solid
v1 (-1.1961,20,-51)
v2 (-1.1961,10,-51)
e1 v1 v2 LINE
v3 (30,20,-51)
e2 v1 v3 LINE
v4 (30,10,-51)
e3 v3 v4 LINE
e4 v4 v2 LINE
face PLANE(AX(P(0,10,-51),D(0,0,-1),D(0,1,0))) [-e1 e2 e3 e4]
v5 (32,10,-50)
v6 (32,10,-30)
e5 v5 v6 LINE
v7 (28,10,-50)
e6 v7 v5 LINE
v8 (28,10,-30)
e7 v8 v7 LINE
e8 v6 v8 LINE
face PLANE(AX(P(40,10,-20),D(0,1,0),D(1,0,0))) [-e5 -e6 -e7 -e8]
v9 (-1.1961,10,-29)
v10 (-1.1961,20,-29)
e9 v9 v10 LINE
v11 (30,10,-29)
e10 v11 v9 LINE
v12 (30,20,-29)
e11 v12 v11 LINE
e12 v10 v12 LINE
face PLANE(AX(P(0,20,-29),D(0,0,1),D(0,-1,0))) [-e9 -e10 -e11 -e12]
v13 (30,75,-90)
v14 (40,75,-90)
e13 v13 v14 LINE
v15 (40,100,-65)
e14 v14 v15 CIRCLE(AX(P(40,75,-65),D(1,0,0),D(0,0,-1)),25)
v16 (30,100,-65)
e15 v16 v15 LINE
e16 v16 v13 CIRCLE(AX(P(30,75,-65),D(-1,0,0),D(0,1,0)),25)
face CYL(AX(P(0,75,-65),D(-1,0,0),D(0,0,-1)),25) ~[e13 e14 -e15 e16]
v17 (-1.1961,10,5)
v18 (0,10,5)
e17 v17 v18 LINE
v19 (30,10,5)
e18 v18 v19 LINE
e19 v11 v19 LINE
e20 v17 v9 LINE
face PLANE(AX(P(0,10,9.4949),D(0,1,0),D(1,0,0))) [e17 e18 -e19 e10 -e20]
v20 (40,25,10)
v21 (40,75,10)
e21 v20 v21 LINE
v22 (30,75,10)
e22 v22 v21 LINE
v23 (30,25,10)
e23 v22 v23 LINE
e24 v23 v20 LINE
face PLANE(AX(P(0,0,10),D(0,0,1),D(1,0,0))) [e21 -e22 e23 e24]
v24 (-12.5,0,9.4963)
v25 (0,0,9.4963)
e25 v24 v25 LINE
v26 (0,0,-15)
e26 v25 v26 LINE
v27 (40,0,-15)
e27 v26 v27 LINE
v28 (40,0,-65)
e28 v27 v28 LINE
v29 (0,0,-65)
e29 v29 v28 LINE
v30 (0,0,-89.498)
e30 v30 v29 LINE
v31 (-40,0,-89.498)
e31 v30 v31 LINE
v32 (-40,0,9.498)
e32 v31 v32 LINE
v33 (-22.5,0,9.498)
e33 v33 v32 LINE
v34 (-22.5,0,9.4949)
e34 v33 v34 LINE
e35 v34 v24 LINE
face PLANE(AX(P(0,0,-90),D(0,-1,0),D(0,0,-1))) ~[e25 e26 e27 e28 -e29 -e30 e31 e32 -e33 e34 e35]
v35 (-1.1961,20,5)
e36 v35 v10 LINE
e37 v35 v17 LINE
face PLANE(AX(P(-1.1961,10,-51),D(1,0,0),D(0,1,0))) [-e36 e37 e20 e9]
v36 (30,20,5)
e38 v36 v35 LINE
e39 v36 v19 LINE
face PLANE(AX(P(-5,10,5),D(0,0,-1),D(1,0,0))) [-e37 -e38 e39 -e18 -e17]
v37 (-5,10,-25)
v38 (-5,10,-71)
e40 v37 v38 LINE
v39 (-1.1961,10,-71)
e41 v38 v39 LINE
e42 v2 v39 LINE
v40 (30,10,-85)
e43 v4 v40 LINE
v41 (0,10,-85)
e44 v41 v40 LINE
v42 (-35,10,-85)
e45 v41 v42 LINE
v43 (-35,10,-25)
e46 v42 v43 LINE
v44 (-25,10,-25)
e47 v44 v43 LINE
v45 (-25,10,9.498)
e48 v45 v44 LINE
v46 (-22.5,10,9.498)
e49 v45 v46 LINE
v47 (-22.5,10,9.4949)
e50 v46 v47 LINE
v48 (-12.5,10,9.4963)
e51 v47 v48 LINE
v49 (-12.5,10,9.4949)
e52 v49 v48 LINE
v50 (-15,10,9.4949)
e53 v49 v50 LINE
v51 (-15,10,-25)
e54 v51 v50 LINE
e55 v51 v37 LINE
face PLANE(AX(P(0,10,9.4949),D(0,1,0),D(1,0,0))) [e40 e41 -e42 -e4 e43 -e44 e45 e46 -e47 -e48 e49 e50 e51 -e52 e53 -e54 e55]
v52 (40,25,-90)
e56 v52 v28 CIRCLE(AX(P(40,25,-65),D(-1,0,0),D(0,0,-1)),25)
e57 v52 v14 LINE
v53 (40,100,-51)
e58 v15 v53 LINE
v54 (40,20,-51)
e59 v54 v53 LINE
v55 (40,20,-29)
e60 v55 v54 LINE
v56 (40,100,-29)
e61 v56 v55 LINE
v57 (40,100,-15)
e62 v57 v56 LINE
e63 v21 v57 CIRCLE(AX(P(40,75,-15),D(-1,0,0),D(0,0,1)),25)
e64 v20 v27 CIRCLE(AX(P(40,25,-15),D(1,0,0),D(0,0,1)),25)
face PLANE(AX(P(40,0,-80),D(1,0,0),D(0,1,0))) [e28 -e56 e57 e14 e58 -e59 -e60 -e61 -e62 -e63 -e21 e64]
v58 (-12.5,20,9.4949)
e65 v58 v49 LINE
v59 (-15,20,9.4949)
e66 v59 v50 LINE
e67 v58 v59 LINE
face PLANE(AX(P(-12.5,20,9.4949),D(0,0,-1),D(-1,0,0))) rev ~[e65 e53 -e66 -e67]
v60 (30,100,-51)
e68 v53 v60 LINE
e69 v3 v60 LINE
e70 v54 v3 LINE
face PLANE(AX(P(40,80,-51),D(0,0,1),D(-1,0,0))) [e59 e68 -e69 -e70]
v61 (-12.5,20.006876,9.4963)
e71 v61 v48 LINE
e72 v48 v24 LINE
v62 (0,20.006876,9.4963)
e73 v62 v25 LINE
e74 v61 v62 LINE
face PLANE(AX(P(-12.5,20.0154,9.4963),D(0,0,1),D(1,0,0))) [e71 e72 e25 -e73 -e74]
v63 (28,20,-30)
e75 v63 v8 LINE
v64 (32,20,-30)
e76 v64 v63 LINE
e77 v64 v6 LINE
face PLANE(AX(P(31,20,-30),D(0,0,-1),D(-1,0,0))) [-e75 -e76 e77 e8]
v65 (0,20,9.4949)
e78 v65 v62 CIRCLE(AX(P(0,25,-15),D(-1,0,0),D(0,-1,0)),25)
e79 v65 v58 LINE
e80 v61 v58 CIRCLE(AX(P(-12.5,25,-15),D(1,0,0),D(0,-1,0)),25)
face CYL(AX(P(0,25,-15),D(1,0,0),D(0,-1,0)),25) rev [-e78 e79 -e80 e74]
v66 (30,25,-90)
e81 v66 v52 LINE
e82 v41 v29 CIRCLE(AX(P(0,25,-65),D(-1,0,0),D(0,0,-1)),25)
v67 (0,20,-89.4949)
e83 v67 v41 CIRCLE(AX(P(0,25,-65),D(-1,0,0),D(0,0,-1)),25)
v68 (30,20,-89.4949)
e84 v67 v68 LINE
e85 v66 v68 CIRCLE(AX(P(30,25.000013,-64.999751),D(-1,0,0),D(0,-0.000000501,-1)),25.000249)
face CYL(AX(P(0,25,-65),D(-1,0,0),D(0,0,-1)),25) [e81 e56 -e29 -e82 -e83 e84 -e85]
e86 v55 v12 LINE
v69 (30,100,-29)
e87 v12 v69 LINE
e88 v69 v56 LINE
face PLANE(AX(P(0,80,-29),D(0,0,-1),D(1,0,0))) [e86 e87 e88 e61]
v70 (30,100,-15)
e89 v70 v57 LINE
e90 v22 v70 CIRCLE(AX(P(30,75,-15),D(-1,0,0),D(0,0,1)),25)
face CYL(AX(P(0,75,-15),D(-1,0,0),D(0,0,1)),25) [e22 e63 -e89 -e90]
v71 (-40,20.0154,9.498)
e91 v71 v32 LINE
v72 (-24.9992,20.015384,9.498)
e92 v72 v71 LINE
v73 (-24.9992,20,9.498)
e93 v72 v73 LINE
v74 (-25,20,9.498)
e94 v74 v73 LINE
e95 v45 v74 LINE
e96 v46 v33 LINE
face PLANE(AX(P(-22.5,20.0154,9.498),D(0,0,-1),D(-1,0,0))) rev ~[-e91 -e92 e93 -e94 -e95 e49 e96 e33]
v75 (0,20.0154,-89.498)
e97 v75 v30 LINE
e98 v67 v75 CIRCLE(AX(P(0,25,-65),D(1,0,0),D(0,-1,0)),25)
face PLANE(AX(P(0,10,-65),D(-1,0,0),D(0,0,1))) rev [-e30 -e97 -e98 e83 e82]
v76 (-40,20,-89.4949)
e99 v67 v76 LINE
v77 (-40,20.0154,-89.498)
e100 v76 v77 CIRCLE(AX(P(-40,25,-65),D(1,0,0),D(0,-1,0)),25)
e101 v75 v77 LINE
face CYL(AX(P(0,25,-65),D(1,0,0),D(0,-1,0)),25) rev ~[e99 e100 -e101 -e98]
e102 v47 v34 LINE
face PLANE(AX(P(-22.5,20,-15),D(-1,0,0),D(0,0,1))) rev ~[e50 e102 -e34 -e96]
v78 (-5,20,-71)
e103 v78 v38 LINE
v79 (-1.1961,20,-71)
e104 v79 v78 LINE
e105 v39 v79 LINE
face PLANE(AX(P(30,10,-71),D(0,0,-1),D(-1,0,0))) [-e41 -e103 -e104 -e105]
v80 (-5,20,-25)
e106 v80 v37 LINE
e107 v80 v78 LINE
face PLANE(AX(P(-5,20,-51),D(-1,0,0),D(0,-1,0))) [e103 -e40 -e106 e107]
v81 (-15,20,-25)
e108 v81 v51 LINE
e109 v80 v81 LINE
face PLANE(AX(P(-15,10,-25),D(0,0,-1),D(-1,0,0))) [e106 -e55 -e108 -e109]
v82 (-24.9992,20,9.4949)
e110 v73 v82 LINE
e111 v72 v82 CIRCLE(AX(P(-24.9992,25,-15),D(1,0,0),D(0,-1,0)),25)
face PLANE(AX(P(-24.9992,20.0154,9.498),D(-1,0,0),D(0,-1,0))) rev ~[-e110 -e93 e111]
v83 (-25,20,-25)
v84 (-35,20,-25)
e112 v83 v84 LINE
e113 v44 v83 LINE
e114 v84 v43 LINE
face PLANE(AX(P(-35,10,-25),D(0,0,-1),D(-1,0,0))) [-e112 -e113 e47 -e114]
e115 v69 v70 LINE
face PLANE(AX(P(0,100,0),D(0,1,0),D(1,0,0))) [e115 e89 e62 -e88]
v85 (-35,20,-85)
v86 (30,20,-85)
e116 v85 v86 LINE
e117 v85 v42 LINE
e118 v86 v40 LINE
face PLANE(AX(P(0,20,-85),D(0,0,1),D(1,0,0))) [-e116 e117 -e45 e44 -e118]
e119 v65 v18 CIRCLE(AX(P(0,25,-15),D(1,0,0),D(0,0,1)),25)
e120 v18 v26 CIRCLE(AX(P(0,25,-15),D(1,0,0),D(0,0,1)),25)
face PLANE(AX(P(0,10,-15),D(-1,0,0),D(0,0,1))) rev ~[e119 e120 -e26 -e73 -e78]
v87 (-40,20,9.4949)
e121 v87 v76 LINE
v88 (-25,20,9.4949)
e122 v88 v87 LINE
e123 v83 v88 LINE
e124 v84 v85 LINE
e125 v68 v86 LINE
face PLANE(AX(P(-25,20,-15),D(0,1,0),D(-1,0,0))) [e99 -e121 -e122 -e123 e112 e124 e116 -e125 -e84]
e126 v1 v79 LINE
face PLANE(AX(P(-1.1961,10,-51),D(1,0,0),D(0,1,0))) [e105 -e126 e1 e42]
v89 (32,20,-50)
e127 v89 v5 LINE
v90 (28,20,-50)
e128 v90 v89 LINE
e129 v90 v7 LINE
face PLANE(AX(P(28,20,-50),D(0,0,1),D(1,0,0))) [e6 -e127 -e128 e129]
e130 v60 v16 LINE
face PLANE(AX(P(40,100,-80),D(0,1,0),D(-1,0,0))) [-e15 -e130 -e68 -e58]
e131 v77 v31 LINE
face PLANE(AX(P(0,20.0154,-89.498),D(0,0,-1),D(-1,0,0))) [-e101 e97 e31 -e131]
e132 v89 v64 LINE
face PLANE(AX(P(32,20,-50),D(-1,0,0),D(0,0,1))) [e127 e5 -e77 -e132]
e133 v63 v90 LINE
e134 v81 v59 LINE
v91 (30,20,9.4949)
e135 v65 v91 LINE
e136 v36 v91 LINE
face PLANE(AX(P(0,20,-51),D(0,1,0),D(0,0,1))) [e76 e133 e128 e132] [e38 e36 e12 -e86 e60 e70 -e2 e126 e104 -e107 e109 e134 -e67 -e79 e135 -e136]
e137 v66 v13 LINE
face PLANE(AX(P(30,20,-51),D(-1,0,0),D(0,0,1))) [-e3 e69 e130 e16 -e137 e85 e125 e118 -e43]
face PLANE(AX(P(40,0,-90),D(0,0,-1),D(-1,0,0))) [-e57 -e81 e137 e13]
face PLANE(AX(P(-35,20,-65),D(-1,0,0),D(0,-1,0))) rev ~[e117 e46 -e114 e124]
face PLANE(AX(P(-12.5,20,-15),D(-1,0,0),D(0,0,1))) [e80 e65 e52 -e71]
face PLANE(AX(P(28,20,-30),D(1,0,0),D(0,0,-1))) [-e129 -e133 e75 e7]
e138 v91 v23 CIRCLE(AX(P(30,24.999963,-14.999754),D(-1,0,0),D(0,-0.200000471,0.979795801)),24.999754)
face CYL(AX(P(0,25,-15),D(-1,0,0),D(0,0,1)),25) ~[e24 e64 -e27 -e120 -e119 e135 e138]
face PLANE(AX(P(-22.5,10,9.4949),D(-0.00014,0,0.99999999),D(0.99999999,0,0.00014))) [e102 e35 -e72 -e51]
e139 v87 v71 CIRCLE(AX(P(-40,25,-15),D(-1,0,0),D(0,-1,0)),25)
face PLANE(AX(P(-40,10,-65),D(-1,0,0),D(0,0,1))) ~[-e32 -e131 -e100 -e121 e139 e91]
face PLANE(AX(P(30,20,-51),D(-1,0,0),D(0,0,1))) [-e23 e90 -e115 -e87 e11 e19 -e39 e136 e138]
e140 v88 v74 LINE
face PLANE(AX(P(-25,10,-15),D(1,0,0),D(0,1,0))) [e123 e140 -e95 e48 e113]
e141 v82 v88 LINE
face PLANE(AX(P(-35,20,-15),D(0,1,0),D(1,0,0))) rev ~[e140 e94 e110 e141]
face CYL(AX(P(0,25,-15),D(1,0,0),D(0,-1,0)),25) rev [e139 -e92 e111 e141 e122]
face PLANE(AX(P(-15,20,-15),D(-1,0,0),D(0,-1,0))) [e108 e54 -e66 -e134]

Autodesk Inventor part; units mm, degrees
ref_plane "YZ Plane" through (0, 0, 0) normal (1, 0, 0) x (0, 1, 0)
sketch "Esquisse1" plane through (0, 0, 0) normal (0, 1, 0) x (-1, 0, 0)
  line L0 (0, 0) -> (-40, 0)
  line L1 (-40, 0) -> (-40, -80)
  line L2 (-40, -80) -> (0, -80)
  line L3 (0, -80) -> (0, 0)
  dimension "d0" = 80
  dimension "d4" = 40
extrude "Extrusion1" add sketch "Esquisse1" along normal blind 80
sketch "Esquisse2" plane through (40, 0, 0) normal (1, 0, 0) x (0, 0, -1)
  point P0 (0, 0)
sketch "Esquisse3" plane through (40, 0, 0) normal (1, 0, 0) x (0, 0, -1)
  line L0 (0, 80) -> (80, 80) projected
  line L1 (20, 20) -> (60, 20)
  line L2 (60, 20) -> (60, 80)
  line L3 (60, 80) -> (20, 80)
  line L4 (20, 80) -> (20, 20)
  line L5 (0, 0) -> (80, 0) projected
  line L6 (80, 0) -> (80, 80) projected
  line L7 (0, 0) -> (0, 80) projected
  point P0 (20, 80)
  dimension "d9" = 20
  dimension "d10" = 20
  dimension "d11" = 20
extrude "Extrusion2" cut sketch "Esquisse3" against normal blind 80 contours L0 L2 L1 L4
sketch "Esquisse4" plane through (40, 20, -20) normal (0, 1, 0) x (1, 0, 0)
  line L0 (0, 40) -> (-40, 40) projected
  line L1 (0, 0) -> (-5, 0)
  line L2 (-5, 40) -> (0, 40)
  line L3 (0, 40) -> (0, 0)
  line L4 (-5, 40) -> (-10, 40)
  line L5 (-9, 10) -> (-12, 10)
  line L6 (-12, 10) -> (-12, 30)
  line L7 (-12, 30) -> (-9, 30)
  line L8 (-9, 10) -> (-9, 30)
  point P0 (-40, -20)
  dimension "d19" = 20
  dimension "d21" = 9
  dimension "d22" = 3
extrude "Extrusion3" cut sketch "Esquisse4" against normal blind 10
sketch "Esquisse6" plane through (40, 20, -20) normal (0, 0, -1) x (-1, 0, 0)
  line L0 (40, 60) -> (40, 0) projected
  line L1 (0, 60) -> (40, 60) projected
  line L2 (0, 0) -> (0, 60) projected
  line L3 (0, 0) -> (40, 0) projected
  point P0 (40, -20)
extrude "Extrusion4" add sketch "Esquisse6" along normal blind 9
sketch "Esquisse7" plane through (40, 20, -60) normal (0, 0, 1) x (1, 0, 0)
  line L0 (-40, 0) -> (-40, 60) projected
  line L1 (0, 0) -> (-40, 0) projected
  line L2 (0, 60) -> (0, 0) projected
  line L3 (-40, 60) -> (0, 60) projected
  point P0 (-40, -20)
extrude "Extrusion5" add sketch "Esquisse7" along normal blind 9
sketch "Esquisse8" plane through (0, 80, 0) normal (0, 1, 0) x (1, 0, 0)
  line L0 (40, 51) -> (40, 80) projected
  line L1 (40, 80) -> (0, 80) projected
  line L2 (0, 80) -> (0, 51) projected
  line L3 (40, 51) -> (0, 51) projected
  point P0 (0, 0)
extrude "Extrusion6" add sketch "Esquisse8" along normal blind 20
sketch "Esquisse9" plane through (0, 80, 0) normal (0, 1, 0) x (1, 0, 0)
  line L0 (0, 29) -> (0, 0) projected
  line L1 (0, 0) -> (40, 0) projected
  line L2 (40, 0) -> (40, 29) projected
  line L3 (0, 29) -> (40, 29) projected
extrude "Extrusion7" add sketch "Esquisse9" along normal blind 20
sketch "Esquisse10" plane through (0, 0, 0) normal (0, 0, 1) x (1, 0, 0)
  line L0 (0, 0) -> (40, 0) projected
  line L1 (40, 0) -> (40, 100) projected
  line L2 (0, 100) -> (40, 100) projected
  line L3 (0, 0) -> (0, 100) projected
extrude "Extrusion8" add sketch "Esquisse10" along normal blind 10
sketch "Esquisse11" plane through (40, 0, -80) normal (0, 0, -1) x (-1, 0, 0)
  line L0 (0, 0) -> (40, 0) projected
  line L1 (40, 0) -> (40, 100) projected
  line L2 (0, 100) -> (40, 100) projected
  line L3 (0, 0) -> (0, 100) projected
extrude "Extrusion9" add sketch "Esquisse11" along normal blind 10
sketch "Esquisse12" plane through (0, 20, -51) normal (-1, 0, 0) x (0, 0, 1)
  line L0 (22, 80) -> (61, 80) projected
  line L1 (61, 80) -> (36, 80)
  line L2 (61, 80) -> (61, 55)
  line L3 (61, 80) -> (61, -20) projected
  arc A0 (61, 55) -> (36, 80) centre (36, 55) ccw
  point P0 (51, -20)
  dimension "d35" = 25
  dimension "d36" = 25
ref_plane "Plan de construction1" through (40, 0, -40) normal (0, 0, -1) x (-1, 0, 0)
extrude "Extrusion10" cut sketch "Esquisse12" against normal up to surface (40 mm away)
mirror "Symétrie1" about plane through (40, 0, -40) normal (0, 0, -1) of "Extrusion10"
ref_plane "Plan de construction2" through (0, 50, 0) normal (0, 1, 0) x (1, 0, 0)
mirror "Symétrie2" about plane through (0, 50, 0) normal (0, 1, 0) of "Extrusion10", "Symétrie1"
sketch "Esquisse13" plane through (0, 20, -51) normal (-1, 0, 0) x (0, 0, 1)
  line L0 (11, -10) -> (-14, -10)
  line L1 (11, -10) -> (36, -10)
  line L2 (-14, -10) -> (-14, 0)
  line L3 (-14, 0) -> (-38.4949, 0)
  line L4 (36, -10) -> (36, 0)
  line L5 (36, 0) -> (60.4949, 0)
  arc A0 (-38.4949, 0) -> (-14, -20) centre (-14, 5) ccw
  arc A1 (36, -20) -> (60.4949, 0) centre (36, 5) ccw
  line L6 (36, -20) -> (-14, -20)
  point P0 (51, -20)
  dimension "d40" = 25
  dimension "d41" = 25
  dimension "d42" = 10
extrude "Extrusion11" add sketch "Esquisse13" along normal blind 40
sketch "Esquisse14" plane through (0, 10, -15) normal (0, 1, 0) x (1, 0, 0)
  line L0 (-40, 0) -> (-40, 50) projected
  line L1 (-40, 0) -> (40, 0) projected
  line L2 (-40, 50) -> (-35, 50)
  line L3 (-35, 50) -> (-35, 0)
  line L4 (-35, 0) -> (-40, 0)
  line L5 (-40, 0) -> (-40, 50)
  point P0 (0, -15)
  dimension "d45" = 5
extrude "Extrusion12" add sketch "Esquisse14" along normal up to surface (10 mm away)
sketch "Esquisse15" plane through (0, 20, 9.4949) normal (0, 1, 0) x (1, 0, 0)
  line L0 (-17.5, 24.4949) -> (-12.5, 24.4949)
  line L1 (-12.5, 24.4949) -> (-22.5, 24.4949)
  line L2 (-22.5, 24.4949) -> (-22.5, 0)
  line L3 (-12.5, 24.4949) -> (-12.5, 0)
  line L4 (-22.5, 0) -> (-12.5, 0)
  dimension "d48" = 5
  dimension "d49" = 10
extrude "Extrusion13" cut sketch "Esquisse15" against normal up to surface (10 mm away)
sketch "Esquisse16" plane through (40, 20, -51) normal (0, 0, 1) x (1, 0, 0)
  point P0 (-40, -20)
sketch "Esquisse17" plane through (31, 20, -50) normal (-1, 0, 0) x (0, 0, 1)
  line L0 (0, 0) -> (20, 0) projected
  line L1 (0, 0) -> (0, -10) projected
  line L2 (0, -10) -> (20, -10) projected
  line L3 (20, 0) -> (20, -10) projected
  point P0 (50, -20)
extrude "Extrusion14" cut sketch "Esquisse17" against normal blind 1
sketch "Esquisse18" plane through (0, 20, -51) normal (-1, 0, 0) x (0, 0, 1)
  line L0 (22, 0) -> (22, 80)
  line L1 (22, 80) -> (36, 80)
  arc A0 (61, 55) -> (36, 80) centre (36, 55) ccw
  line L2 (-38.4949, 0) -> (-14, 0)
  line L3 (36, 0) -> (60.4949, 0)
  arc A1 (60.4949, 0) -> (61, 5) centre (36, 5) ccw
  line L4 (61, 55) -> (61, 5)
  arc A2 (61, 55) -> (36, 80) centre (36, 55) ccw
  line L5 (22, 80) -> (36, 80)
  line L6 (22, 0) -> (22, 80)
  line L7 (22, 0) -> (0, 0)
  line L8 (0, 0) -> (0, 80)
  line L9 (0, 80) -> (-14, 80)
  arc A3 (-14, 80) -> (-39, 55) centre (-14, 55) ccw
  line L10 (-39, 5) -> (-39, 55)
  arc A4 (-39, 5) -> (-38.4949, 0) centre (-14, 5) ccw
  arc A5 (-39, 5) -> (-38.4949, 0) centre (-14, 5) ccw
  line L11 (-38.4949, 0) -> (60.4949, 0)
  point P0 (51, -20)
  point P1 (61, 55)
  point P2 (22, 0)
  point P3 (36, 0)
extrude "Extrusion15" cut sketch "Esquisse18" against normal blind 30
sketch "Esquisse19" plane through (0, 10, -65) normal (0, 0, 1) x (1, 0, 0)
  line L0 (-35, 10) -> (-35, 0) projected
  line L1 (0, 0) -> (-35, 0) projected
  line L2 (0, 10) -> (0, 0) projected
  line L3 (0, 10) -> (-35, 10) projected
  point P0 (0, -10)
extrude "Extrusion16" cut sketch "Esquisse19" against normal blind 20
sketch "Esquisse20" plane through (0, 10, -15) normal (-1, 0, 0) x (0, 0, 1)
  arc A0 (0, -10) -> (25, 15) centre (0, 15) ccw projected
  line L0 (25, 15) -> (25, -10)
  line L1 (25, -10) -> (0, -10)
  line L2 (24.498, 10.0154) -> (25, 10.0154)
  point P0 (15, -10)
extrude "Extrusion17" add sketch "Esquisse20" along normal up to surface (40 mm away) contours A0 L2 L0 L1
mirror "Symétrie3" about plane through (40, 0, -40) normal (0, 0, -1) of "Extrusion17"
sketch "Esquisse21" plane through (0, 0, 10) normal (0, 0, 1) x (1, 0, 0)
  line L0 (-22.5, 20) -> (-22.5, 10) projected
  line L1 (-12.5, 10) -> (-12.5, 20) projected
  line L2 (-22.5, 10) -> (-35, 10) projected
  line L3 (-12.5, 10) -> (-22.5, 10) projected
  line L4 (0, 10) -> (-12.5, 10) projected
  line L5 (-35, 10) -> (0, 10) projected
  line L6 (0, 20) -> (-12.5, 20) projected
  line L7 (-22.5, 20) -> (-22.5, 21.5856)
  line L8 (-12.5, 20) -> (-12.5, 21.5856)
  line L9 (-12.5, 21.5856) -> (-22.5, 21.5856)
  point P0 (0, 0)
  point P1 (-22.5, 10)
  point P2 (-12.5, 10)
extrude "Extrusion18" cut sketch "Esquisse21" against normal blind 20
sketch "Esquisse23" plane through (40, 20, -29) normal (0, 1, 0) x (1, 0, 0)
  line L0 (-40, -14) -> (-40, 56)
  line L1 (-10, 0) -> (0, 0)
  line L2 (-8, 22) -> (-10, 22)
  line L3 (-10, 22) -> (-10, 56)
  line L4 (-8, 1) -> (-12, 1)
  line L5 (-12, 21) -> (-8, 21)
  line L6 (-8, 21) -> (-8, 1)
  line L7 (-10, 22) -> (-10, 56)
  line L8 (-10, 22) -> (-40, 22)
  line L9 (-40, -14) -> (-40, 56)
  line L10 (-10, 22) -> (-10, 56)
  line L11 (-40, 56) -> (-10, 56)
  point P0 (-10, -38.4949)
  point P1 (-40, 22)
extrude "Extrusion20" cut sketch "Esquisse23" against normal blind 10
mirror "Symétrie4" about plane through (40, 0, -40) normal (0, 0, -1) of "Extrusion20"
sketch "Esquisse24" plane through (0, 20, 9.4949) normal (0, 1, 0) x (1, 0, 0)
  point P0 (0, 9.4949)
sketch "Esquisse25" plane through (0, 20, 9.4949) normal (0, 1, 0) x (1, 0, 0)
  point P0 (0, 9.4949)
sketch "Esquisse26" plane through (0, 0, 10) normal (0, 0, 1) x (1, 0, 0)
  point P0 (0, 0)
sketch "Esquisse27" plane through (-40, 20.0154, 9.498) normal (0, 1, 0) x (1, 0, 0)
  line L0 (27.5, -0.502) -> (27.5, 24.498) projected
  line L1 (40, 24.498) -> (40, -0.502) projected
  line L2 (27.5, 0.0017) -> (40, 0.0017)
  line L3 (40, 0.0017) -> (40, -0.502)
  line L4 (40, -0.502) -> (27.5, -0.502)
  line L5 (27.5, -0.502) -> (27.5, 0.0017)
  point P0 (40, 9.498)
extrude "Extrusion21" cut sketch "Esquisse27" against normal blind 25
sketch "Esquisse28" plane through (-40, 20.0154, 9.498) normal (0, 1, 0) x (1, 0, 0)
  point P0 (40, 9.498)
sketch "Esquisse29" plane through (-40, 20.0154, 9.498) normal (0, 1, 0) x (1, 0, 0)
  line L0 (17.5, -0.502) -> (17.5, 0) projected
  line L1 (17.5, 0) -> (0, 0) projected
  line L2 (0, 0) -> (0, -0.502) projected
  line L3 (17.5, -0.502) -> (0, -0.502) projected
  point P0 (40, 9.498)
extrude "Extrusion22" cut sketch "Esquisse29" against normal up to surface (20.0154 mm away)
sketch "Esquisse30" plane through (-35, 10, -15) normal (0, 1, 0) x (1, 0, 0)
  line L0 (22.5, -25) -> (12.5, -25) projected
  line L1 (12.5, -25) -> (12.5, -24.4949)
  line L2 (22.5, -24.4963) -> (22.5, 0) projected
  line L3 (12.5, -24.4949) -> (22.5, -24.4963)
  line L4 (22.5, -25) -> (22.5, -24.4963) projected
  line L5 (22.5, -24.4963) -> (22.5, -25)
  point P0 (35, -15)
extrude "Extrusion23" cut sketch "Esquisse30" against normal up to surface (10 mm away)
sketch "Esquisse31" plane through (-40, 20.0154, -89.498) normal (0, 1, 0) x (1, 0, 0)
  line L0 (0, 0) -> (0, 0.502) projected
  line L1 (40, 0) -> (0, 0) projected
  line L2 (40, 0.502) -> (40, 0) projected
  line L3 (40, 0.502) -> (0, 0.502) projected
  point P0 (40, -89.498)
extrude "Extrusion24" cut sketch "Esquisse31" against normal up to surface (20.0154 mm away)
sketch "Esquisse32" plane through (0, 10, -51) normal (-1, 0, 0) x (0, 0, 1)
  line L0 (0, 0) -> (0, 10)
  line L1 (0, 10) -> (22, 10)
  line L2 (22, 10) -> (22, 0)
  line L3 (22, 0) -> (0, 0)
  point P0 (51, -10)
extrude "Extrusion25" add sketch "Esquisse32" along normal blind 5
sketch "Esquisse37" plane through (-35, 20, -15) normal (0, 1, 0) x (1, 0, 0)
  line L0 (12.5, 0) -> (0, 0) projected
  line L1 (12.5, 0) -> (10, 0)
  line L2 (10, 0) -> (10, -25.2265)
  line L3 (10, -25.2265) -> (12.5, -25.2265)
  line L4 (12.5, -25.2265) -> (12.5, 0)
  point P0 (35, -15)
  dimension "d78" = 2.5
extrude "Extrusion27" cut sketch "Esquisse37" against normal blind 10
sketch "Esquisse39" plane through (0, 20, 9.4949) normal (0, 1, 0) x (1, 0, 0)
  line L0 (-12.5, 24.4949) -> (-12.5, 0) projected
  line L1 (-12.5, 24.4949) -> (-12.5, 0)
  line L2 (-12.5, 0) -> (-15, 0)
  line L3 (-15, 0) -> (-15, 24.4949)
  line L4 (-15, 24.4949) -> (-12.5, 24.4949)
  point P0 (0, 9.4949)
  dimension "d81" = 2.5
extrude "Extrusion28" add sketch "Esquisse39" against normal blind 10
sketch "Esquisse40" plane through (-35, 10, -15) normal (0, 1, 0) x (1, 0, 0)
  line L0 (30, 14) -> (30, 36) projected
  line L1 (30, 14) -> (30, 0)
  line L2 (35, 0) -> (20, 0) projected
  line L3 (35, -20) -> (35, 0) projected
  line L4 (35, -20) -> (35, 0)
  line L5 (35, 0) -> (30, 0)
  line L6 (30, 0) -> (30, -20)
  line L7 (30, -20) -> (35, -20)
  point P0 (35, -15)
  point P1 (30, 0)
extrude "Extrusion29" cut sketch "Esquisse40" along normal blind 10
sketch "Esquisse41" plane through (-15, 10, -15) normal (0, 0, -1) x (-1, 0, 0)
  line L0 (-10, 10) -> (-10, 0) projected
  line L1 (-10, 10) -> (0, 10) projected
  line L2 (-10, 0) -> (-10, 10)
  line L3 (-10, 10) -> (0, 10)
  line L4 (0, 10) -> (0, 0)
  line L5 (0, 0) -> (-10, 0)
  point P0 (-15, -10)
extrude "Extrusion30" add sketch "Esquisse41" along normal blind 10
sketch "Esquisse42" plane through (0, 20, 9.4949) normal (0, 1, 0) x (1, 0, 0)
  point P0 (0, 9.4949)
sketch "Esquisse43" plane through (-35, 10, -15) normal (0, 0, -1) x (-1, 0, 0)
  point P0 (-35, -10)
sketch "Esquisse44" plane through (-35, 10, -15) normal (0, 0, -1) x (-1, 0, 0)
  line L0 (-10, 0) -> (0, 0) projected
  line L1 (-10, 10) -> (0, 10) projected
  line L2 (-10, 0) -> (-10, 10)
  line L3 (-10, 10) -> (0, 10)
  line L4 (0, 10) -> (0, 0)
  line L5 (0, 0) -> (-10, 0)
  point P0 (-35, -10)
extrude "Extrusion31" add sketch "Esquisse44" along normal blind 10
sketch "Esquisse45" plane through (30, 10, -51) normal (0, 0, -1) x (-1, 0, 0)
  line L0 (0, 10) -> (35, 10) projected
  line L1 (35, 10) -> (35, 0) projected
  line L2 (35, 10) -> (35, 0)
  line L3 (35, 0) -> (31.1961, 0)
  line L4 (31.1961, 0) -> (31.1961, 10)
  line L5 (31.1961, 10) -> (35, 10)
  point P0 (30, -10)
extrude "Extrusion32" add sketch "Esquisse45" along normal blind 20 and the other way blind 60
sketch "Esquisse46" plane through (-40, 20.0154, 9.498) normal (0, 0, 1) x (1, 0, 0)
  line L0 (17.5, 0) -> (17.5, -0.0154) projected
  line L1 (17.5, -0.0154) -> (17.5, 0)
  line L2 (17.5, 0) -> (15.0008, 0)
  line L3 (15.0008, 0) -> (15.0008, -0.0154)
  line L4 (15.0008, -0.0154) -> (17.5, -0.0154)
  point P0 (40, -20.0154)
extrude "Extrusion33" cut sketch "Esquisse46" against normal blind 1
sketch "Esquisse47" plane through (-12.5, 20.0069, 9.4963) normal (0, 0, 1) x (1, 0, 0)
  point P0 (12.5, -20.0069)
ref_plane "Plan de construction3" through (40, 0, -40) normal (0, 0, -1) x (-1, 0, 0)
properties part number "_Impression 3D"
